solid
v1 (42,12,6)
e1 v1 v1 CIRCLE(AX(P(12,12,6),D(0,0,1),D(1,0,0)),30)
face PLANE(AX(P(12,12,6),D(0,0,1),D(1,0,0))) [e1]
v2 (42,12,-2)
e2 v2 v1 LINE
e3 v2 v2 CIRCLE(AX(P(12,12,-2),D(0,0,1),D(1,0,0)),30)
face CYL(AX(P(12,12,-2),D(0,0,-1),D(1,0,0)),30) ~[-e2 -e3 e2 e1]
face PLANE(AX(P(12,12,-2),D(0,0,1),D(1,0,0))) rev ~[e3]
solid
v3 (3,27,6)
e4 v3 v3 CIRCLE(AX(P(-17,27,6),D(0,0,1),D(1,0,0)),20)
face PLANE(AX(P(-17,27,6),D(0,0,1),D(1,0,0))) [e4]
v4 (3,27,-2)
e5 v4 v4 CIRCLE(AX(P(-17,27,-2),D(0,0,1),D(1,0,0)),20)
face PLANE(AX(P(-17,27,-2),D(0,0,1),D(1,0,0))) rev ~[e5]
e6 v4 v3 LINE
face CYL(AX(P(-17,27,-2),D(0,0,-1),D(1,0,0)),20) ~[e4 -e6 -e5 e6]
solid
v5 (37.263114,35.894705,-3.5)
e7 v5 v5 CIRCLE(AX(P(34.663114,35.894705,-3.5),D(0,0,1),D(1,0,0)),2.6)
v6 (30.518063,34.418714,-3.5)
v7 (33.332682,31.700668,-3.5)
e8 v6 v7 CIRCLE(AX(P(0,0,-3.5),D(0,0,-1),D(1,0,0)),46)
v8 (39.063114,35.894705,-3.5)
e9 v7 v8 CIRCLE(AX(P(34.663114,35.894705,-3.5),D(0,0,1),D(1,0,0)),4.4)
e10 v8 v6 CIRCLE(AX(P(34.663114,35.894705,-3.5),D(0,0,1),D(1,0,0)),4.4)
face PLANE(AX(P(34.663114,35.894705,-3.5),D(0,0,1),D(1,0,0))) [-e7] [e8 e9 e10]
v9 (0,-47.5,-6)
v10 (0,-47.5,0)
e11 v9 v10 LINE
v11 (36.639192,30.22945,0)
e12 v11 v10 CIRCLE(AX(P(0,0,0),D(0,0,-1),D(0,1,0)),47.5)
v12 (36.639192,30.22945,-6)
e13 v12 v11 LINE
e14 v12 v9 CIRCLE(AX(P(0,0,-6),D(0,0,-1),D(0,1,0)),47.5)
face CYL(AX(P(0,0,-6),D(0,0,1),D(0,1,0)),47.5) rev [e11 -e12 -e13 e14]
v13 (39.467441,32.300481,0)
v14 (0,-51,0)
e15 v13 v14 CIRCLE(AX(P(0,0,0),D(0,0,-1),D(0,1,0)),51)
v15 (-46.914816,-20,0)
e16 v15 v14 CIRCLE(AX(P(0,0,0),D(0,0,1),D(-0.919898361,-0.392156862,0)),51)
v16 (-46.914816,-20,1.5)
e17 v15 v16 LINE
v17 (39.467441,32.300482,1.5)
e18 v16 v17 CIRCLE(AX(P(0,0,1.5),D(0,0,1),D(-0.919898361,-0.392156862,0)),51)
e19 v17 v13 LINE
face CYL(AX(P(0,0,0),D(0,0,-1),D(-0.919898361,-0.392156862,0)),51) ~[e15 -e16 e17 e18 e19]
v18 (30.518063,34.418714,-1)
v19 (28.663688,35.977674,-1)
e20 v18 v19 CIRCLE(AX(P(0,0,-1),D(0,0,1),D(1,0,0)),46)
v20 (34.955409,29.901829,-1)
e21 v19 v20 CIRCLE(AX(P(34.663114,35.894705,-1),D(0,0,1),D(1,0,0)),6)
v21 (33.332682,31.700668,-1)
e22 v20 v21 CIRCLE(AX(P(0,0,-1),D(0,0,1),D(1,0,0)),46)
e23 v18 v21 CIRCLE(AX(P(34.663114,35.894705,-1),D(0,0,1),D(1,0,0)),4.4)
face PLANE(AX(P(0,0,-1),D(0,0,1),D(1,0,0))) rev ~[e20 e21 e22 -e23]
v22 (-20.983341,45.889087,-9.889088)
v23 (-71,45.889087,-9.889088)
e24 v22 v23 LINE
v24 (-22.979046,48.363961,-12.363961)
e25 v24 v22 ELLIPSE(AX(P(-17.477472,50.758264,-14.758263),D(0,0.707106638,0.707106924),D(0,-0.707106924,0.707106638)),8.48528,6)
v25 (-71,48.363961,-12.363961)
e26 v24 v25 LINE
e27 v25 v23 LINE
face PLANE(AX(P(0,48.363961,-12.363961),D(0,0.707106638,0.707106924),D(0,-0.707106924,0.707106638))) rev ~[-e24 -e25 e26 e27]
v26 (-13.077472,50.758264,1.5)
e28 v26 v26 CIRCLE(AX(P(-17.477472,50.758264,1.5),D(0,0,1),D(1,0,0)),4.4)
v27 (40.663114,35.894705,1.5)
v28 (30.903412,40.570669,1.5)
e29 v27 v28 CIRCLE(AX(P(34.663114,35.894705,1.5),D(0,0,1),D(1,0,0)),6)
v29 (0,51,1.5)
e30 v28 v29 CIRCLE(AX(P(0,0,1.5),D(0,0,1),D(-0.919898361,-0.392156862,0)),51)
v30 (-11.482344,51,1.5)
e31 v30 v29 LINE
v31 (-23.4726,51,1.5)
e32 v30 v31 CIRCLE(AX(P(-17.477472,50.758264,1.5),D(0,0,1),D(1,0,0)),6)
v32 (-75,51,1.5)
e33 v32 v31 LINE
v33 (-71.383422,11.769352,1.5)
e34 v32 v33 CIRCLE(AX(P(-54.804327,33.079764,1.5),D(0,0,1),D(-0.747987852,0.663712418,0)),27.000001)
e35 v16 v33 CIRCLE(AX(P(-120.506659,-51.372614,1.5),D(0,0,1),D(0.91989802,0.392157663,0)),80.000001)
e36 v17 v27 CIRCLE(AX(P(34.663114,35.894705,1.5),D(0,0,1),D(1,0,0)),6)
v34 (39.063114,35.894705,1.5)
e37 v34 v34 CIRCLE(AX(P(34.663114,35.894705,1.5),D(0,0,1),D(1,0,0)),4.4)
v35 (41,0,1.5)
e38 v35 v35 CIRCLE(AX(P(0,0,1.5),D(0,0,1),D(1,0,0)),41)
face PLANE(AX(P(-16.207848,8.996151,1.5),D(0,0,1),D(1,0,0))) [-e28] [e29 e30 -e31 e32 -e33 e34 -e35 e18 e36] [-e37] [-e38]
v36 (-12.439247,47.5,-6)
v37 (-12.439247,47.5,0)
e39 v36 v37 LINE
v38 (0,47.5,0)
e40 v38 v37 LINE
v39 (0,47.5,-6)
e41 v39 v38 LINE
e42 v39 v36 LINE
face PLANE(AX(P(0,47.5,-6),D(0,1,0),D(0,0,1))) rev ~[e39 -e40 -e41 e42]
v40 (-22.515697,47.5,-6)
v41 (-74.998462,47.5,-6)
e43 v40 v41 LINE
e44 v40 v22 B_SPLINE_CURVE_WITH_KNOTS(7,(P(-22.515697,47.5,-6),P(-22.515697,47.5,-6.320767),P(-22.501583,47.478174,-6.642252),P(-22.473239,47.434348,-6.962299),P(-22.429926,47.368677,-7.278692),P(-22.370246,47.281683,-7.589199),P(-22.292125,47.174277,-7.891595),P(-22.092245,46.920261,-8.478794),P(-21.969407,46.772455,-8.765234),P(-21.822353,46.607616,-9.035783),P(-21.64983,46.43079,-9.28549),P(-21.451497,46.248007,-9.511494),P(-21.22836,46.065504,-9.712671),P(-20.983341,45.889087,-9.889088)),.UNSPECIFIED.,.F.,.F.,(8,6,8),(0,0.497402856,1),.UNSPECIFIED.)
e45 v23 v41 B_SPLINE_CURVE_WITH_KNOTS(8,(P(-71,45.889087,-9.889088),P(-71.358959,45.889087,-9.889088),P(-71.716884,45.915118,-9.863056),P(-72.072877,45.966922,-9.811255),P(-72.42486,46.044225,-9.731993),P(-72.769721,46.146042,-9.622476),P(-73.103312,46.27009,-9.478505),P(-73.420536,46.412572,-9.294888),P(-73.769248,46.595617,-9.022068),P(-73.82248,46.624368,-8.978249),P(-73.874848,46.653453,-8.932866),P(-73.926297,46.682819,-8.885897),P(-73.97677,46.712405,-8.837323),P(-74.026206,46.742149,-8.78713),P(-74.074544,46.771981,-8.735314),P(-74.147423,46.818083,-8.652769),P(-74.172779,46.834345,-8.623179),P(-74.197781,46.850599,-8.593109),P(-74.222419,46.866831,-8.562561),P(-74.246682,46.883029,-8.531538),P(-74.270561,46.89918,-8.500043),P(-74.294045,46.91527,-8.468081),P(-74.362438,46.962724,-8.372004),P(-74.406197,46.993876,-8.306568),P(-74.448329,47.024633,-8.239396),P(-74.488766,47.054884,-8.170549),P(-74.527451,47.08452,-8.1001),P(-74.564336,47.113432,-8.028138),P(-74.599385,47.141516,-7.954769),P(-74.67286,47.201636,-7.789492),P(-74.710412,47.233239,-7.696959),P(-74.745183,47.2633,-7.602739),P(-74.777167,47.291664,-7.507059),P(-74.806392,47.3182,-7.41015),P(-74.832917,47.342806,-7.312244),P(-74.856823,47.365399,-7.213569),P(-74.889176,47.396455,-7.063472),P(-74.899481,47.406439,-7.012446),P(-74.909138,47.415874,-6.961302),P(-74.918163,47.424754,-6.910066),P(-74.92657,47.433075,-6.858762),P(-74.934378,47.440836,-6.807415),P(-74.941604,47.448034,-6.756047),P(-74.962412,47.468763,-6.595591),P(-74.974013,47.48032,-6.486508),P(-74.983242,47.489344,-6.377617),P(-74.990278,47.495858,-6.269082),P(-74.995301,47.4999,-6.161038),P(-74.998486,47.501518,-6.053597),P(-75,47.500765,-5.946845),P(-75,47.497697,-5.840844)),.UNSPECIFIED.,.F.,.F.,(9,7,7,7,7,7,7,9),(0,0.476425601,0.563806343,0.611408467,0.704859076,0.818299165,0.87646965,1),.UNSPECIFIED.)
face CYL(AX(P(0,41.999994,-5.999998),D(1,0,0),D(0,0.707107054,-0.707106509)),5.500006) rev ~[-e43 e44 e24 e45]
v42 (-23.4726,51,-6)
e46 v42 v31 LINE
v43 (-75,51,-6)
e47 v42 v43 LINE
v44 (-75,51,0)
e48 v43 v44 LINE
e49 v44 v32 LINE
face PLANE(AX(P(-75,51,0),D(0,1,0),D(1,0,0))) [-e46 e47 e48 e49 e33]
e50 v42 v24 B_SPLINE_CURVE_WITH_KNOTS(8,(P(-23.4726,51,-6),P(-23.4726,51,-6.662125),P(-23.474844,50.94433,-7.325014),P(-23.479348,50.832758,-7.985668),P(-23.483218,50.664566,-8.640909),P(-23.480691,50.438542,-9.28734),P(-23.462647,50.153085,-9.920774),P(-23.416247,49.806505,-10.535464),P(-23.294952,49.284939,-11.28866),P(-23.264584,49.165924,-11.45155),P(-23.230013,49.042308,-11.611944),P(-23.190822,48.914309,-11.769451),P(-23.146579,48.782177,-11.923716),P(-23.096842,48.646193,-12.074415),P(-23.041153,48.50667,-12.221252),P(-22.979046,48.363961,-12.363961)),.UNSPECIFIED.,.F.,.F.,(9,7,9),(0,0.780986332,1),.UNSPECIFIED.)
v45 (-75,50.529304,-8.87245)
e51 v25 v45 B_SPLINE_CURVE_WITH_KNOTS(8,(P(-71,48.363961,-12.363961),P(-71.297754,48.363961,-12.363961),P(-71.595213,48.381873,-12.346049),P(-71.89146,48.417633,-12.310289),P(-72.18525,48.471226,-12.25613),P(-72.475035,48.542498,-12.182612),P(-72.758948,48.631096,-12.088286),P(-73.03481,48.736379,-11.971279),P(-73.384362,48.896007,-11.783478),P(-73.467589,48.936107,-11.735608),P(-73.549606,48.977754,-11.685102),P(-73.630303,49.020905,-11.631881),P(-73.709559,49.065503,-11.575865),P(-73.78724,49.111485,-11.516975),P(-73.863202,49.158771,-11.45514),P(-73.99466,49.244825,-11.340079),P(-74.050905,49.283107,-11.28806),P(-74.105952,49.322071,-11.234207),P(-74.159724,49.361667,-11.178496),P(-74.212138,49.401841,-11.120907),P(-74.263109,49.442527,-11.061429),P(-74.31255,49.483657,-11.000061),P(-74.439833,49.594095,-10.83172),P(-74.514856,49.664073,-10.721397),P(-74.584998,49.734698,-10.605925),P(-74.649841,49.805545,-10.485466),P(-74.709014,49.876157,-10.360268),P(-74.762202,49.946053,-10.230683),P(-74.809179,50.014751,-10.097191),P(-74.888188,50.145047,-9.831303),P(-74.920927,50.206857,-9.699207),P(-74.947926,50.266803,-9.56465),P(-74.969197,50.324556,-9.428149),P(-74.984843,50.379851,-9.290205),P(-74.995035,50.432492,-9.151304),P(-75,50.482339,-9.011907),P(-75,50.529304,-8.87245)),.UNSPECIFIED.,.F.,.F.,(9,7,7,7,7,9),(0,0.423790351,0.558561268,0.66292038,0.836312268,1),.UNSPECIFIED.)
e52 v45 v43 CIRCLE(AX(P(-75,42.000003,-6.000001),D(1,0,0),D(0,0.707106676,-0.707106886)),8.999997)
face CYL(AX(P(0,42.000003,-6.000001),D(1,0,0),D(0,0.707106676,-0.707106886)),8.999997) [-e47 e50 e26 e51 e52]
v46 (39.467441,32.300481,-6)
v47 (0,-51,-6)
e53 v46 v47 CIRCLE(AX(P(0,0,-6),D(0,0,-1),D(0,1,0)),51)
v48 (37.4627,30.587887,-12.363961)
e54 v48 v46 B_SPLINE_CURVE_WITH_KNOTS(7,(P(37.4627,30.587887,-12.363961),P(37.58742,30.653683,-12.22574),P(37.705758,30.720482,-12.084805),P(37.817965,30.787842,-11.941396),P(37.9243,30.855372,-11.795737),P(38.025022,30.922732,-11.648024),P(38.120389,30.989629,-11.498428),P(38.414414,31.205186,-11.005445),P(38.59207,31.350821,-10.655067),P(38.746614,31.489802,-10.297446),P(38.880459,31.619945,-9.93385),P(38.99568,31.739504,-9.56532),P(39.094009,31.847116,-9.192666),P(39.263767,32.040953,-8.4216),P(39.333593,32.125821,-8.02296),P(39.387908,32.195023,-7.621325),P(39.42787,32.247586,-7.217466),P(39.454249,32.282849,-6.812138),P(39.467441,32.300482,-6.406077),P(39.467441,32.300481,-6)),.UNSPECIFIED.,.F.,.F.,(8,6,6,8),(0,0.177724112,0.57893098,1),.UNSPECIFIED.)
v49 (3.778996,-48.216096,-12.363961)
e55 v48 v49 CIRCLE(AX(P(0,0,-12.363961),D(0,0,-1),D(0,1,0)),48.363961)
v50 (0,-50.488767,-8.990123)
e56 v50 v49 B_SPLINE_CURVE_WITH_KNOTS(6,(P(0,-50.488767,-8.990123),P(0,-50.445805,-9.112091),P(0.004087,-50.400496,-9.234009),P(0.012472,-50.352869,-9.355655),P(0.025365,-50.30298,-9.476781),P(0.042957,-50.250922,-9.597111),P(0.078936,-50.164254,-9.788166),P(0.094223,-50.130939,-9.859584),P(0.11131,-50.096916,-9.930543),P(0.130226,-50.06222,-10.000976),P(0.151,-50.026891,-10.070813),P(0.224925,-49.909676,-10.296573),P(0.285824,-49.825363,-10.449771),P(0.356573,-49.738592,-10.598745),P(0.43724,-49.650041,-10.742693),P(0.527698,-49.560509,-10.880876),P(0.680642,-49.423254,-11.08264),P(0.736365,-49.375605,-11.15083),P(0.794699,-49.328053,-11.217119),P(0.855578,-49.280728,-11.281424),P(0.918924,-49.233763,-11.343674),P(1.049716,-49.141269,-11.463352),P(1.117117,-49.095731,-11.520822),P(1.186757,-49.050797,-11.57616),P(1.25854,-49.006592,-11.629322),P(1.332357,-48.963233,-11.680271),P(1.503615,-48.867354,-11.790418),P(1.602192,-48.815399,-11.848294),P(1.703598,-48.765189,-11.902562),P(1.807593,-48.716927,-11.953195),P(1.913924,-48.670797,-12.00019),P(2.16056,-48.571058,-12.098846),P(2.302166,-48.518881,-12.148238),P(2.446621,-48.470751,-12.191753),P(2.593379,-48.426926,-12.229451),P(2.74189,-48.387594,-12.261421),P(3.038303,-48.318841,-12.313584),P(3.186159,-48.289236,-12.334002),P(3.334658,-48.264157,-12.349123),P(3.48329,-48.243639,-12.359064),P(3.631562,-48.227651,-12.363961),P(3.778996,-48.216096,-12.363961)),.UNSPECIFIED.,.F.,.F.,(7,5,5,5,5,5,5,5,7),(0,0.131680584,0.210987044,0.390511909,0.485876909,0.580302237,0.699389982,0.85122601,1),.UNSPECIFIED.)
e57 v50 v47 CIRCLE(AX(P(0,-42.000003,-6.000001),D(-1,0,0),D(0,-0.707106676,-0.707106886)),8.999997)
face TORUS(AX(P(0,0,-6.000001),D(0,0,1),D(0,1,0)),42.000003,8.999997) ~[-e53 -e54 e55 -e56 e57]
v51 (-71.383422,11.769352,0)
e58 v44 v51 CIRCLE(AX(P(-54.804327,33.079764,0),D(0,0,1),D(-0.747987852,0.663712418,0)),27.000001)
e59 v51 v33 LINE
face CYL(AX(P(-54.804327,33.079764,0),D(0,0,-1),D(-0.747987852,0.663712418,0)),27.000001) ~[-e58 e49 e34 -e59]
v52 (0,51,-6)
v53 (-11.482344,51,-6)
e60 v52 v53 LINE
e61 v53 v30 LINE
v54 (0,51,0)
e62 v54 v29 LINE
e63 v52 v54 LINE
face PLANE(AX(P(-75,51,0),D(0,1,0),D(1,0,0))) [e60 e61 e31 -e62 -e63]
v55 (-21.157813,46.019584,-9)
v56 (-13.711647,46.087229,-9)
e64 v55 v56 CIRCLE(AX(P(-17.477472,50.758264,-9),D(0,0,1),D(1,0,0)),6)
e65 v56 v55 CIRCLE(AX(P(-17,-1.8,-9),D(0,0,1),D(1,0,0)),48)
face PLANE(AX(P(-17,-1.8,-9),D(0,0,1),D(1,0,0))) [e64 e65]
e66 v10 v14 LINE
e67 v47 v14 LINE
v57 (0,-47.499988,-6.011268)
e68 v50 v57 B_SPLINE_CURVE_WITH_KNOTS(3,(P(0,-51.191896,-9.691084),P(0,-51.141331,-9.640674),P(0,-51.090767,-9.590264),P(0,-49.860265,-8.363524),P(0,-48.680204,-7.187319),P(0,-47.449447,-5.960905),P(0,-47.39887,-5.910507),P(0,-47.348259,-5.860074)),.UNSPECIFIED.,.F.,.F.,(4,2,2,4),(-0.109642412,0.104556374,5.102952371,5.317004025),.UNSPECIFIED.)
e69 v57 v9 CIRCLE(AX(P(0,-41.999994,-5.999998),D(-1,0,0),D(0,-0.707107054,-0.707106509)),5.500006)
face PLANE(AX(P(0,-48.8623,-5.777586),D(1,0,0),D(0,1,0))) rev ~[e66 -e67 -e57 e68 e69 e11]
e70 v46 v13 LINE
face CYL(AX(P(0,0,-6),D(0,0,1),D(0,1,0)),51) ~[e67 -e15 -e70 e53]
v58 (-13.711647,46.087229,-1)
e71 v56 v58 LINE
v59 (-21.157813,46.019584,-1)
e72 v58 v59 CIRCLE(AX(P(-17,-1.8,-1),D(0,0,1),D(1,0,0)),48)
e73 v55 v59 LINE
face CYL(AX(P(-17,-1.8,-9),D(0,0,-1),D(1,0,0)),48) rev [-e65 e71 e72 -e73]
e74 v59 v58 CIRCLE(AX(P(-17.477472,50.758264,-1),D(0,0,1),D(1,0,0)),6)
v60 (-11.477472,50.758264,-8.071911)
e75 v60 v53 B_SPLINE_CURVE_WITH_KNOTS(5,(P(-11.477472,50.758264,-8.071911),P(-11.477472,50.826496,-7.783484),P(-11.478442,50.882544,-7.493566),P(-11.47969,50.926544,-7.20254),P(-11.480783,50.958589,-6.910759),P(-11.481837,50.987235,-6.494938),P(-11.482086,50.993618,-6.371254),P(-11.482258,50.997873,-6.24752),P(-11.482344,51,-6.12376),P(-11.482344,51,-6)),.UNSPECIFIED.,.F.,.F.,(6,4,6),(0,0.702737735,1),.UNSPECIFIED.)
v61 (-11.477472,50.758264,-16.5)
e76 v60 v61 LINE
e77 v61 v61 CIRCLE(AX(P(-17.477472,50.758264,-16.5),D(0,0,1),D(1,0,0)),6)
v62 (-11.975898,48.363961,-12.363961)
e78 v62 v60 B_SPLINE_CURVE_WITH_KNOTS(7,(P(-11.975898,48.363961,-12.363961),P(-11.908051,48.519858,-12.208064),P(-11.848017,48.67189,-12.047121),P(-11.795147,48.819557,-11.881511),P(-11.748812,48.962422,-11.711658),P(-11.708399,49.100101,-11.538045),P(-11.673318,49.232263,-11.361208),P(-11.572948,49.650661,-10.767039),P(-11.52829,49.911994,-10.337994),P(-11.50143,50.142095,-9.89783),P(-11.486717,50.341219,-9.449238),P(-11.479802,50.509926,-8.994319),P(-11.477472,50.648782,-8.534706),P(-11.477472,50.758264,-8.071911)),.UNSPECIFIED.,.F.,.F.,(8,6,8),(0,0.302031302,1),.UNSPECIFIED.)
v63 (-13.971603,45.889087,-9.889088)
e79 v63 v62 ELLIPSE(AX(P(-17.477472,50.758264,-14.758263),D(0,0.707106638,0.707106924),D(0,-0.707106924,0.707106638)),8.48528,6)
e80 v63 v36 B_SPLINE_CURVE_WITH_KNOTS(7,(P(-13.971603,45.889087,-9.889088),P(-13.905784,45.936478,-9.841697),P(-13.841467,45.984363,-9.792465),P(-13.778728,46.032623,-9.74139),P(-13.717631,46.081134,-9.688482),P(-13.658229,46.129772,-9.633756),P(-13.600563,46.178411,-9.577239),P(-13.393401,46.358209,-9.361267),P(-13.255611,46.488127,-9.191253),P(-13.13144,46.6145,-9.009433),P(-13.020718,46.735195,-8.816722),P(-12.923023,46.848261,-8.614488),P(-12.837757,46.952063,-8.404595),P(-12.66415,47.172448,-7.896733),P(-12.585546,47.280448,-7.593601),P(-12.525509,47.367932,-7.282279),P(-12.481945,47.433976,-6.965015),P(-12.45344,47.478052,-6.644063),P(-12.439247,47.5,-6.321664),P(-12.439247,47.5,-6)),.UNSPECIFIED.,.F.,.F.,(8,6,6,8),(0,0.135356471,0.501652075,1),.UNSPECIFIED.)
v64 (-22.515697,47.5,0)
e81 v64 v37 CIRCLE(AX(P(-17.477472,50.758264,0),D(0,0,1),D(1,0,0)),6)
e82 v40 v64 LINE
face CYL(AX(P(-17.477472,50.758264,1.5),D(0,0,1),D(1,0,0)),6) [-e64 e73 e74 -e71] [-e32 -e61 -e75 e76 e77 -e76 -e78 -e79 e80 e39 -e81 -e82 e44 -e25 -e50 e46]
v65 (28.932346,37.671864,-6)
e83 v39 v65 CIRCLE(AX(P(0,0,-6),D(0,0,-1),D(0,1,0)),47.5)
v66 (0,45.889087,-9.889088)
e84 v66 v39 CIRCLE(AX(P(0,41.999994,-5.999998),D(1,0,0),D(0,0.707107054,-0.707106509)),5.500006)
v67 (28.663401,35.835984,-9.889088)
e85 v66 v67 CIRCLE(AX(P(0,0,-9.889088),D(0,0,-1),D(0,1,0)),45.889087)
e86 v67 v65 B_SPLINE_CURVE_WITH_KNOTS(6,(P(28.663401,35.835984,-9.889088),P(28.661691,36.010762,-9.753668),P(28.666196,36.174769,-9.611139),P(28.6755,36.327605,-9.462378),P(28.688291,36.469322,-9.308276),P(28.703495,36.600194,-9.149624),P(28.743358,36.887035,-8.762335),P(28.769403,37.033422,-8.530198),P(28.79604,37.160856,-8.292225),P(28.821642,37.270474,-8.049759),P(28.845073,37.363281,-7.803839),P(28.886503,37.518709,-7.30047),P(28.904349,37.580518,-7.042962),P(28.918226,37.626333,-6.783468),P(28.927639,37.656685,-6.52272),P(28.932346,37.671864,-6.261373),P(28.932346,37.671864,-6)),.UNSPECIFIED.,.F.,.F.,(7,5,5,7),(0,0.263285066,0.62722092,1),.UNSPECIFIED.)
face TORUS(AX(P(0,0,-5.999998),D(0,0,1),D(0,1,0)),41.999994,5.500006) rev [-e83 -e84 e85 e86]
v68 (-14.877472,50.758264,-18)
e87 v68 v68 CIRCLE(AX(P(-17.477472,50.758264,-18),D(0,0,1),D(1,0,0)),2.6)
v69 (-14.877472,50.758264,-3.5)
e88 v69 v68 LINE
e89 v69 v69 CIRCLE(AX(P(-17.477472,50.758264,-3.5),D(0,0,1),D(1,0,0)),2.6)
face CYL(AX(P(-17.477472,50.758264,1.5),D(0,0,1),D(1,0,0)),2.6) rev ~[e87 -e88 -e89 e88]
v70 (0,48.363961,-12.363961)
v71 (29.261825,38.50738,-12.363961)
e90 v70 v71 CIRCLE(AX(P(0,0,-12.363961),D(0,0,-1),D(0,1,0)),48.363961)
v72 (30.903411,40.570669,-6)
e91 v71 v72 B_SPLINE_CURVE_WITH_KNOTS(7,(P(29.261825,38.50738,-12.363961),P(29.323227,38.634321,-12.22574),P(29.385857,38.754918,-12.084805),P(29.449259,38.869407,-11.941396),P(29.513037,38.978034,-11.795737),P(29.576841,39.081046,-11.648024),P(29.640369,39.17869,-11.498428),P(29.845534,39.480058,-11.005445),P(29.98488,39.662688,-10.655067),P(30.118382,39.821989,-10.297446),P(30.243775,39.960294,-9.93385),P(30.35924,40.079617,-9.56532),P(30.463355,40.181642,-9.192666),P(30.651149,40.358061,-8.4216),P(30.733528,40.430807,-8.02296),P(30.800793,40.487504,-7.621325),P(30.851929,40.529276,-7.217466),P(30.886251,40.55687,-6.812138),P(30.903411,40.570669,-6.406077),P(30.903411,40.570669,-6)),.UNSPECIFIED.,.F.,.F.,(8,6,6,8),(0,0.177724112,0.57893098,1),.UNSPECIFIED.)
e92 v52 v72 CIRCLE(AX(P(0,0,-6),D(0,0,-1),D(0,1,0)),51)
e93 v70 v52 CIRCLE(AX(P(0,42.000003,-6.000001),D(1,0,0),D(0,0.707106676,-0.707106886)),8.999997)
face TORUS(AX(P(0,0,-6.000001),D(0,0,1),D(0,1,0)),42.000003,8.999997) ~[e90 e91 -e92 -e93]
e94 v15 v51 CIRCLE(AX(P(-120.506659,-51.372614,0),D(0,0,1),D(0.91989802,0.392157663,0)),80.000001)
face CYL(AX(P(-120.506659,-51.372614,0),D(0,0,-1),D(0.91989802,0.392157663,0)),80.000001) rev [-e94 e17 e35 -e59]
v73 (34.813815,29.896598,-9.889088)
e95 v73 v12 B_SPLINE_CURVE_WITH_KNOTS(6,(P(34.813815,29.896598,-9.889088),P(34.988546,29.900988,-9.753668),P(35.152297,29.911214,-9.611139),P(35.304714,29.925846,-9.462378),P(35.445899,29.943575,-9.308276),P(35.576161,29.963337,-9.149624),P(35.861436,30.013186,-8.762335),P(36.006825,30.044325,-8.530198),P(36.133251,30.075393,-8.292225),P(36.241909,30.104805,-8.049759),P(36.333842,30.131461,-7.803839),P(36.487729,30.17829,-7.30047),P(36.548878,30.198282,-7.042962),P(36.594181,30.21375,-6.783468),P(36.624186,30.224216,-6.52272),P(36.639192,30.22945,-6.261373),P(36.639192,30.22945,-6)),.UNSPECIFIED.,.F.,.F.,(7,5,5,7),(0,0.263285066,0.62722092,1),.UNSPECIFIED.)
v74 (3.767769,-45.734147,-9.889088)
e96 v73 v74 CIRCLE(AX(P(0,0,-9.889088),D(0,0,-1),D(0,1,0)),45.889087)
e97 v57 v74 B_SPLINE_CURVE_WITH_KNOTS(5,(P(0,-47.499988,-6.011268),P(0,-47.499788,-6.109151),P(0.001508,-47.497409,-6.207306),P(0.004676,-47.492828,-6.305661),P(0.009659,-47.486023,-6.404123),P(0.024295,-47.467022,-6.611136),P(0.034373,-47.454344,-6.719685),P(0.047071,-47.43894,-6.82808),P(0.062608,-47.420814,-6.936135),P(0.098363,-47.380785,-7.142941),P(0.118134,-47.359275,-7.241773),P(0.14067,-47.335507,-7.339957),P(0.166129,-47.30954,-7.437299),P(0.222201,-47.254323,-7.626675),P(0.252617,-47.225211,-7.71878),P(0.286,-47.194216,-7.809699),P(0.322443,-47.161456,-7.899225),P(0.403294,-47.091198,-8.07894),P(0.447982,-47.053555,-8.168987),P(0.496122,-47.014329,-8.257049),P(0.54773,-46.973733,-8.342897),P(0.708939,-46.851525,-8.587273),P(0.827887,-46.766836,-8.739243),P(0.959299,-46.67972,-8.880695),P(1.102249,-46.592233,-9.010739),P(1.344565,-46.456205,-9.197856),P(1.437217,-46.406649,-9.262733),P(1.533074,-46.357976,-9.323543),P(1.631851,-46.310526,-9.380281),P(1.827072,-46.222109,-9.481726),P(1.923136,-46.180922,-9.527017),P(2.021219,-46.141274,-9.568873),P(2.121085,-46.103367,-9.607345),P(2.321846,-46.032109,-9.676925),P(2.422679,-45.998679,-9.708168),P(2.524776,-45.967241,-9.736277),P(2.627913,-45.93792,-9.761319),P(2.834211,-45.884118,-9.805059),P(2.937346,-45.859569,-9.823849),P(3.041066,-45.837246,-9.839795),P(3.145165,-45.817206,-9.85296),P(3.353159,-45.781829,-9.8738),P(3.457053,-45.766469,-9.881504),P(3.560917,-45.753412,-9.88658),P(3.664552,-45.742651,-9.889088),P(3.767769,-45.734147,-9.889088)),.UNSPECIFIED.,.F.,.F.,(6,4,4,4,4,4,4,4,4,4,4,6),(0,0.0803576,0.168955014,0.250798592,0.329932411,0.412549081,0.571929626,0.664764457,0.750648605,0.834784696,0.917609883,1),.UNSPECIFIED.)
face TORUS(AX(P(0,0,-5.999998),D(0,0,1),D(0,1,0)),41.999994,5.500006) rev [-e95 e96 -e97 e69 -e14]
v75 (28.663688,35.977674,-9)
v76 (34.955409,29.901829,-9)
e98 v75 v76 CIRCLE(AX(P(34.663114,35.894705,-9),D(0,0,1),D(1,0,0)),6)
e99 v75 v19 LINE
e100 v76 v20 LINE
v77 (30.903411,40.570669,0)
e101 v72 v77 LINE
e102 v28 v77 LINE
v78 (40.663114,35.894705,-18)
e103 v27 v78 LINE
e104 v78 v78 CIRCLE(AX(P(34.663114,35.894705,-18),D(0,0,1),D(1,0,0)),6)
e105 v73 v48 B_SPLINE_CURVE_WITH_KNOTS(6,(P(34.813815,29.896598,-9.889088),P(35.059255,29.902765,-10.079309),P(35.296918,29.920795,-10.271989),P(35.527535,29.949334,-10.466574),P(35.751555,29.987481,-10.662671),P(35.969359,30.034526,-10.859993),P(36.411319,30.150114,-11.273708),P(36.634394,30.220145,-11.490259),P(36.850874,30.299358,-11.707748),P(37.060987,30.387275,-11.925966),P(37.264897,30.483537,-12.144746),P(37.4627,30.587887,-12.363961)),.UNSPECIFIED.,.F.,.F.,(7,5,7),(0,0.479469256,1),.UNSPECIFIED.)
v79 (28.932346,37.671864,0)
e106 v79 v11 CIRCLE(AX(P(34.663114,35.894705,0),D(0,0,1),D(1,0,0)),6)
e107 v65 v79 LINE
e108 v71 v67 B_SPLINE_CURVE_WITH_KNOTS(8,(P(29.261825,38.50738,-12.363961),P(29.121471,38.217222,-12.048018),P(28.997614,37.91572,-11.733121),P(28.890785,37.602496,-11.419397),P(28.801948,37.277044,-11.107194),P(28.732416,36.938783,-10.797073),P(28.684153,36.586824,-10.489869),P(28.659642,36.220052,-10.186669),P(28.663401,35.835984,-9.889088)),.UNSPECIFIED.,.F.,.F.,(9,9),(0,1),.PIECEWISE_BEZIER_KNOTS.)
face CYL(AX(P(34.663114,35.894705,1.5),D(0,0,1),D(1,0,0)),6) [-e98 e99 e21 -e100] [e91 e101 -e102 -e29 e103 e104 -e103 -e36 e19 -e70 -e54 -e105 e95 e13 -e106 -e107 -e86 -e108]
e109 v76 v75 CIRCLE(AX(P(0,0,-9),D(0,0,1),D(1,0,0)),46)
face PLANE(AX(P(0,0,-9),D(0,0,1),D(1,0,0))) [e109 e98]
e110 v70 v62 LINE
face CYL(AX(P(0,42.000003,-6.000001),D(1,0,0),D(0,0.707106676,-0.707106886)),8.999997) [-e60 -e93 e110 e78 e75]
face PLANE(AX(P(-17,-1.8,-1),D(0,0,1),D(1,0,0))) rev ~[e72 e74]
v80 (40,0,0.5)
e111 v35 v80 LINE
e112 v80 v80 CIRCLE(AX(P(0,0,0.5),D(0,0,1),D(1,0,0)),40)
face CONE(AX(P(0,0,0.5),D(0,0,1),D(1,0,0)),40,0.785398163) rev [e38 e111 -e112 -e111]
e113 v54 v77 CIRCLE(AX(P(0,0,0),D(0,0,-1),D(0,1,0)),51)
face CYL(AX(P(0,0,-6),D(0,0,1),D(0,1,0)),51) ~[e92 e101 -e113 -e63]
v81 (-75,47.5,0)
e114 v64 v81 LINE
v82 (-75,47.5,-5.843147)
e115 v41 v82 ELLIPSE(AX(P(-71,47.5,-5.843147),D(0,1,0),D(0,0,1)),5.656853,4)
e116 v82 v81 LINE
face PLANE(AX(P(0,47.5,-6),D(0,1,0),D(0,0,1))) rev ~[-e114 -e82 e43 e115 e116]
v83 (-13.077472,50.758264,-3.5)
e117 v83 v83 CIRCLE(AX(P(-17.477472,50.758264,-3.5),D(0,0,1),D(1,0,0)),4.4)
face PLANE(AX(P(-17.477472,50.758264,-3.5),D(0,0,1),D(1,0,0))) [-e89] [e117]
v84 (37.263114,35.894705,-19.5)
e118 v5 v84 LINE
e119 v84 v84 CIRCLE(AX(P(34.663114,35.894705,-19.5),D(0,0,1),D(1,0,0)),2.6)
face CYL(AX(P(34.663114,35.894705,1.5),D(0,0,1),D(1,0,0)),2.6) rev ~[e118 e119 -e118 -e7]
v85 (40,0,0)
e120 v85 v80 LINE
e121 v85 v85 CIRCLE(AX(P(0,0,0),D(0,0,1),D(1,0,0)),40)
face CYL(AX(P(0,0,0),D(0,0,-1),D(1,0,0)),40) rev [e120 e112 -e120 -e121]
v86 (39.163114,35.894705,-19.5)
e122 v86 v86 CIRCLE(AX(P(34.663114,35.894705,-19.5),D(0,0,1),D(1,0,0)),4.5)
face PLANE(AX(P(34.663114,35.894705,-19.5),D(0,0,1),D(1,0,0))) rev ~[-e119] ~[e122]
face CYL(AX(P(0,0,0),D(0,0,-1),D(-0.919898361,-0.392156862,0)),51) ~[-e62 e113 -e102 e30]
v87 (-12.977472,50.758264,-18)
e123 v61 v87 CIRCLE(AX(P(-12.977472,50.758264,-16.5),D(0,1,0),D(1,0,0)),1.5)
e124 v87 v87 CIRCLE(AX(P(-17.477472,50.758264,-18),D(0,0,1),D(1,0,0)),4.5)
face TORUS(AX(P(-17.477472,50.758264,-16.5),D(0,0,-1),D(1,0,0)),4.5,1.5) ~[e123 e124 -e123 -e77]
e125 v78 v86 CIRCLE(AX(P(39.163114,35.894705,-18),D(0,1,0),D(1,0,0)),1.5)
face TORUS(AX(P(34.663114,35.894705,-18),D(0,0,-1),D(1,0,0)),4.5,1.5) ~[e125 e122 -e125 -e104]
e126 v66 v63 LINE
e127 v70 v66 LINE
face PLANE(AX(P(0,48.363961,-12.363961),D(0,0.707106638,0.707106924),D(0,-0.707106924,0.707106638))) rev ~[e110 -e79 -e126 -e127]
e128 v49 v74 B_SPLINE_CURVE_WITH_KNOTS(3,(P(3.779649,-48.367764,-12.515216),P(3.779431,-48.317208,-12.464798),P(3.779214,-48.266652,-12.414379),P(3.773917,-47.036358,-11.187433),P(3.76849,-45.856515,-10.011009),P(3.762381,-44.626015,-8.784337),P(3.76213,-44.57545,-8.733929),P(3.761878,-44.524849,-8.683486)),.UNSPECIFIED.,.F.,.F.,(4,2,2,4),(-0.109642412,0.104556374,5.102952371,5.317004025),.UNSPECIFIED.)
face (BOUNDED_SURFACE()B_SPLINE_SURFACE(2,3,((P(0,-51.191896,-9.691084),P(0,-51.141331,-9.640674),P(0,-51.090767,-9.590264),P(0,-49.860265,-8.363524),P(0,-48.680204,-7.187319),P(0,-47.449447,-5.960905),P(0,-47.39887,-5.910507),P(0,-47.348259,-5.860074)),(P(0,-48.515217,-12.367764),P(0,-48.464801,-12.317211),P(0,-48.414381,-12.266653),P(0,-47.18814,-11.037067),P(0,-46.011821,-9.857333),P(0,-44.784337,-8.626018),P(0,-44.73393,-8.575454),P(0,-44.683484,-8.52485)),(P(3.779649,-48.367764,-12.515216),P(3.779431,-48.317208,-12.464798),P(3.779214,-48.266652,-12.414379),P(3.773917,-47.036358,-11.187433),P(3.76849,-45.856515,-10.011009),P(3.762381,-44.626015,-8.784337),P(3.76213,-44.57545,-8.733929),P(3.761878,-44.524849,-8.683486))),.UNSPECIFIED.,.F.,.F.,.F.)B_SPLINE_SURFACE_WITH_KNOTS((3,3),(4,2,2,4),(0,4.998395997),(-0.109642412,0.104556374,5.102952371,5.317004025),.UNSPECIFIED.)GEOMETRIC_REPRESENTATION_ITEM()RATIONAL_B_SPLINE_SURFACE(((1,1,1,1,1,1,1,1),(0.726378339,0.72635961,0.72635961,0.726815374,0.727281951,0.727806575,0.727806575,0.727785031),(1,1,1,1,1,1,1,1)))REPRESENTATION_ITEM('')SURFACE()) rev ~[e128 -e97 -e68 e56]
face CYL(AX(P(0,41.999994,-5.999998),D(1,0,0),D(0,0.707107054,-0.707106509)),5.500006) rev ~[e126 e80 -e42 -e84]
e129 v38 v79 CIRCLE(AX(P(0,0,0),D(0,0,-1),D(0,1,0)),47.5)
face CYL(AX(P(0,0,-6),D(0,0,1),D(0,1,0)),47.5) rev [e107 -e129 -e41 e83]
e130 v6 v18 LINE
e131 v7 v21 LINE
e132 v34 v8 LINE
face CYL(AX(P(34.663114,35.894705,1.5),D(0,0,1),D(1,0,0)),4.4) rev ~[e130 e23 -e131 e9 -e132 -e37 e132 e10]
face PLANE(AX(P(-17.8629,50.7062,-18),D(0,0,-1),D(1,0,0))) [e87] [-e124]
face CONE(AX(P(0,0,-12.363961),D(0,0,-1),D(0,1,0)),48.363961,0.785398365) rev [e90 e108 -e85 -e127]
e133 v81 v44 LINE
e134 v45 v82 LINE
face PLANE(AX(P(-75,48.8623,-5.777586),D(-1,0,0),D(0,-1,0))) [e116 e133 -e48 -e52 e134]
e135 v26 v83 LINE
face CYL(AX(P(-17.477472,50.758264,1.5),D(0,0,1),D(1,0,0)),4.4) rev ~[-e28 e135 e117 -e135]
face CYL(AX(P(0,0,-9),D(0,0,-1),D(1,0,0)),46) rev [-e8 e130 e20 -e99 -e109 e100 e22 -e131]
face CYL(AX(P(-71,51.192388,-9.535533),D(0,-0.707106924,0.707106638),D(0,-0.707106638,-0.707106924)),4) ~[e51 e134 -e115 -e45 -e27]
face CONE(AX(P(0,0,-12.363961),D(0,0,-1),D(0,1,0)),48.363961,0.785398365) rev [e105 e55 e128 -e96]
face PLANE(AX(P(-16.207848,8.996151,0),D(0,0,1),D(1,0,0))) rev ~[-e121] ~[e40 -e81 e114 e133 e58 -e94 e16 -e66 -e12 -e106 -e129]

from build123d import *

# Parameters (mm, degrees)
CYLINDER002_R     = 20
CYLINDER002_DEPTH = 8
CYLINDER003_R     = 30
CYLINDER003_DEPTH = 8
CYLINDER004_R     = 48
CYLINDER004_DEPTH = 8
CYLINDER_R        = 46
CYLINDER_DEPTH    = 8
REVOLUTION_ANGLE  = -180
SKETCH_R          = 40
PAD_DEPTH         = 1.5
PAD001_DEPTH      = 75
SKETCH005_R       = 6
PAD002_DEPTH      = 21
SKETCH012_R       = 2.6
POCKET_DEPTH      = 21.001
SKETCH013_R       = 4.4
POCKET001_DEPTH   = 5
SKETCH008_W       = 35.7258
SKETCH008_H       = 35.7258
POCKET002_DEPTH   = 1.5
CHAMFER_SIZE      = 1
FILLET_R          = 1.5
FILLET001_R       = 4


with BuildPart() as cylinder002:
    # Cylinder002 → Cylinder002 (new body)
    with BuildSketch(Plane(origin=(-17, 27, -2), x_dir=(1, 0, 0), z_dir=(0, 0, 1))):
        Circle(CYLINDER002_R)
    extrude(amount=CYLINDER002_DEPTH)


with BuildPart() as cylinder003:
    # Cylinder003 → Cylinder003 (new body)
    with BuildSketch(Plane(origin=(12, 12, -2), x_dir=(1, 0, 0), z_dir=(0, 0, 1))):
        Circle(CYLINDER003_R)
    extrude(amount=CYLINDER003_DEPTH)


with BuildPart() as cylinder004:
    # Cylinder004 → Cylinder004 (new body)
    with BuildSketch(Plane(origin=(-17, -1.8, -9), x_dir=(1, 0, 0), z_dir=(0, 0, 1))):
        Circle(CYLINDER004_R)
    extrude(amount=CYLINDER004_DEPTH)


with BuildPart() as cylinder:
    # Cylinder → Cylinder (new body)
    with BuildSketch(Plane.XY.offset(-9)):
        Circle(CYLINDER_R)
    extrude(amount=CYLINDER_DEPTH)


with BuildPart() as revolution:
    # Sketch004 → Revolution (revolve)
    with BuildSketch(Plane.YZ):
        with BuildLine():
            Line((48.363961, -12.363961), (45.889087, -9.889088))
            ThreePointArc((45.889087, -9.889088), (47.081337, -8.104759), (47.5, -6))
            Line((47.5, -6), (47.5, 0))
            Line((47.5, 0), (51, 0))
            Line((51, -6), (51, 0))
            ThreePointArc((48.363961, -12.363961), (50.314916, -9.444151), (51, -6))
        make_face()
    revolve(axis=Axis((0, 0, 0), (0, 0, 1)), revolution_arc=REVOLUTION_ANGLE)


with BuildPart() as pad:
    # Sketch → Pad (new body)
    with BuildSketch(Plane.XY):
        with BuildLine():
            ThreePointArc((-46.914816, -20), (42.549971, -28.115832), (0, 51))
            Line((-75, 51), (0, 51))
            ThreePointArc((-75, 51), (-81.690324, 30.60121), (-71.383422, 11.769352))
            ThreePointArc((-46.914816, -20), (-57.126294, -2.557354), (-71.383422, 11.769352))
        make_face()
        Circle(SKETCH_R, mode=Mode.SUBTRACT)
    extrude(amount=PAD_DEPTH)


with BuildPart() as fillet001:
    # Sketch009 → Pad001 (new body)
    with BuildSketch(Plane.YZ):
        with BuildLine():
            Line((48.363961, -12.363961), (45.889087, -9.889088))
            ThreePointArc((45.889087, -9.889088), (47.081337, -8.104759), (47.5, -6))
            Line((47.5, -6), (47.5, 0))
            Line((47.5, 0), (51, 0))
            Line((51, -6), (51, 0))
            ThreePointArc((48.363961, -12.363961), (50.314916, -9.444151), (51, -6))
        make_face()
    extrude(amount=-PAD001_DEPTH)

    # Fusion: union Revolution, Pad
    add(revolution.part)
    add(pad.part)

    # Sketch005 → Pad002 (new body)
    with BuildSketch(Plane.XY.offset(1.5)):
        with Locations((-17.477472, 50.758264)):
            Circle(SKETCH005_R)
        with Locations((34.663114, 35.894705)):
            Circle(SKETCH005_R)
    extrude(amount=-PAD002_DEPTH)

    # Sketch012 → Pocket (cut, through all)
    with BuildSketch(Plane.XY.offset(1.5)):
        with Locations((-17.477472, 50.758264)):
            Circle(SKETCH012_R)
        with Locations((34.663114, 35.894705)):
            Circle(SKETCH012_R)
    extrude(amount=-POCKET_DEPTH, mode=Mode.SUBTRACT)

    # Sketch013 → Pocket001 (cut)
    with BuildSketch(Plane.XY.offset(1.5)):
        with Locations((-17.477472, 50.758264)):
            Circle(SKETCH013_R)
        with Locations((34.663114, 35.894705)):
            Circle(SKETCH013_R)
    extrude(amount=-POCKET001_DEPTH, mode=Mode.SUBTRACT)

    # Sketch008 → Pocket002 (cut)
    with BuildSketch(Plane(origin=(0, 0, -19.5), x_dir=(1, 0, 0), z_dir=(0, 0, -1))):
        with Locations((-17.8629, -50.7062)):
            Rectangle(SKETCH008_W, SKETCH008_H)
    extrude(amount=-POCKET002_DEPTH, mode=Mode.SUBTRACT)

    # Cut: cut Cylinder
    add(cylinder.part, mode=Mode.SUBTRACT)

    # Cut001: cut Cylinder004
    add(cylinder004.part, mode=Mode.SUBTRACT)

    # Chamfer
    chamfer_edges = [fillet001.edges().sort_by_distance(p)[0] for p in [
        (-40, 0, 1.5),
    ]]
    chamfer(chamfer_edges, length=CHAMFER_SIZE)

    # Fillet
    fillet_edges = [fillet001.edges().sort_by_distance(p)[0] for p in [
        (28.663114, 35.894705, -19.5),
        (-23.477472, 50.758264, -18),
    ]]
    fillet(fillet_edges, radius=FILLET_R)

    # Fillet001
    fillet001_edges = [fillet001.edges().sort_by_distance(p)[0] for p in [
        (0, -47.126524, -11.126524),
        (-75, 47.126524, -11.126524),
    ]]
    fillet(fillet001_edges, radius=FILLET001_R)


solid = Compound([cylinder002.part, cylinder003.part, fillet001.part])
